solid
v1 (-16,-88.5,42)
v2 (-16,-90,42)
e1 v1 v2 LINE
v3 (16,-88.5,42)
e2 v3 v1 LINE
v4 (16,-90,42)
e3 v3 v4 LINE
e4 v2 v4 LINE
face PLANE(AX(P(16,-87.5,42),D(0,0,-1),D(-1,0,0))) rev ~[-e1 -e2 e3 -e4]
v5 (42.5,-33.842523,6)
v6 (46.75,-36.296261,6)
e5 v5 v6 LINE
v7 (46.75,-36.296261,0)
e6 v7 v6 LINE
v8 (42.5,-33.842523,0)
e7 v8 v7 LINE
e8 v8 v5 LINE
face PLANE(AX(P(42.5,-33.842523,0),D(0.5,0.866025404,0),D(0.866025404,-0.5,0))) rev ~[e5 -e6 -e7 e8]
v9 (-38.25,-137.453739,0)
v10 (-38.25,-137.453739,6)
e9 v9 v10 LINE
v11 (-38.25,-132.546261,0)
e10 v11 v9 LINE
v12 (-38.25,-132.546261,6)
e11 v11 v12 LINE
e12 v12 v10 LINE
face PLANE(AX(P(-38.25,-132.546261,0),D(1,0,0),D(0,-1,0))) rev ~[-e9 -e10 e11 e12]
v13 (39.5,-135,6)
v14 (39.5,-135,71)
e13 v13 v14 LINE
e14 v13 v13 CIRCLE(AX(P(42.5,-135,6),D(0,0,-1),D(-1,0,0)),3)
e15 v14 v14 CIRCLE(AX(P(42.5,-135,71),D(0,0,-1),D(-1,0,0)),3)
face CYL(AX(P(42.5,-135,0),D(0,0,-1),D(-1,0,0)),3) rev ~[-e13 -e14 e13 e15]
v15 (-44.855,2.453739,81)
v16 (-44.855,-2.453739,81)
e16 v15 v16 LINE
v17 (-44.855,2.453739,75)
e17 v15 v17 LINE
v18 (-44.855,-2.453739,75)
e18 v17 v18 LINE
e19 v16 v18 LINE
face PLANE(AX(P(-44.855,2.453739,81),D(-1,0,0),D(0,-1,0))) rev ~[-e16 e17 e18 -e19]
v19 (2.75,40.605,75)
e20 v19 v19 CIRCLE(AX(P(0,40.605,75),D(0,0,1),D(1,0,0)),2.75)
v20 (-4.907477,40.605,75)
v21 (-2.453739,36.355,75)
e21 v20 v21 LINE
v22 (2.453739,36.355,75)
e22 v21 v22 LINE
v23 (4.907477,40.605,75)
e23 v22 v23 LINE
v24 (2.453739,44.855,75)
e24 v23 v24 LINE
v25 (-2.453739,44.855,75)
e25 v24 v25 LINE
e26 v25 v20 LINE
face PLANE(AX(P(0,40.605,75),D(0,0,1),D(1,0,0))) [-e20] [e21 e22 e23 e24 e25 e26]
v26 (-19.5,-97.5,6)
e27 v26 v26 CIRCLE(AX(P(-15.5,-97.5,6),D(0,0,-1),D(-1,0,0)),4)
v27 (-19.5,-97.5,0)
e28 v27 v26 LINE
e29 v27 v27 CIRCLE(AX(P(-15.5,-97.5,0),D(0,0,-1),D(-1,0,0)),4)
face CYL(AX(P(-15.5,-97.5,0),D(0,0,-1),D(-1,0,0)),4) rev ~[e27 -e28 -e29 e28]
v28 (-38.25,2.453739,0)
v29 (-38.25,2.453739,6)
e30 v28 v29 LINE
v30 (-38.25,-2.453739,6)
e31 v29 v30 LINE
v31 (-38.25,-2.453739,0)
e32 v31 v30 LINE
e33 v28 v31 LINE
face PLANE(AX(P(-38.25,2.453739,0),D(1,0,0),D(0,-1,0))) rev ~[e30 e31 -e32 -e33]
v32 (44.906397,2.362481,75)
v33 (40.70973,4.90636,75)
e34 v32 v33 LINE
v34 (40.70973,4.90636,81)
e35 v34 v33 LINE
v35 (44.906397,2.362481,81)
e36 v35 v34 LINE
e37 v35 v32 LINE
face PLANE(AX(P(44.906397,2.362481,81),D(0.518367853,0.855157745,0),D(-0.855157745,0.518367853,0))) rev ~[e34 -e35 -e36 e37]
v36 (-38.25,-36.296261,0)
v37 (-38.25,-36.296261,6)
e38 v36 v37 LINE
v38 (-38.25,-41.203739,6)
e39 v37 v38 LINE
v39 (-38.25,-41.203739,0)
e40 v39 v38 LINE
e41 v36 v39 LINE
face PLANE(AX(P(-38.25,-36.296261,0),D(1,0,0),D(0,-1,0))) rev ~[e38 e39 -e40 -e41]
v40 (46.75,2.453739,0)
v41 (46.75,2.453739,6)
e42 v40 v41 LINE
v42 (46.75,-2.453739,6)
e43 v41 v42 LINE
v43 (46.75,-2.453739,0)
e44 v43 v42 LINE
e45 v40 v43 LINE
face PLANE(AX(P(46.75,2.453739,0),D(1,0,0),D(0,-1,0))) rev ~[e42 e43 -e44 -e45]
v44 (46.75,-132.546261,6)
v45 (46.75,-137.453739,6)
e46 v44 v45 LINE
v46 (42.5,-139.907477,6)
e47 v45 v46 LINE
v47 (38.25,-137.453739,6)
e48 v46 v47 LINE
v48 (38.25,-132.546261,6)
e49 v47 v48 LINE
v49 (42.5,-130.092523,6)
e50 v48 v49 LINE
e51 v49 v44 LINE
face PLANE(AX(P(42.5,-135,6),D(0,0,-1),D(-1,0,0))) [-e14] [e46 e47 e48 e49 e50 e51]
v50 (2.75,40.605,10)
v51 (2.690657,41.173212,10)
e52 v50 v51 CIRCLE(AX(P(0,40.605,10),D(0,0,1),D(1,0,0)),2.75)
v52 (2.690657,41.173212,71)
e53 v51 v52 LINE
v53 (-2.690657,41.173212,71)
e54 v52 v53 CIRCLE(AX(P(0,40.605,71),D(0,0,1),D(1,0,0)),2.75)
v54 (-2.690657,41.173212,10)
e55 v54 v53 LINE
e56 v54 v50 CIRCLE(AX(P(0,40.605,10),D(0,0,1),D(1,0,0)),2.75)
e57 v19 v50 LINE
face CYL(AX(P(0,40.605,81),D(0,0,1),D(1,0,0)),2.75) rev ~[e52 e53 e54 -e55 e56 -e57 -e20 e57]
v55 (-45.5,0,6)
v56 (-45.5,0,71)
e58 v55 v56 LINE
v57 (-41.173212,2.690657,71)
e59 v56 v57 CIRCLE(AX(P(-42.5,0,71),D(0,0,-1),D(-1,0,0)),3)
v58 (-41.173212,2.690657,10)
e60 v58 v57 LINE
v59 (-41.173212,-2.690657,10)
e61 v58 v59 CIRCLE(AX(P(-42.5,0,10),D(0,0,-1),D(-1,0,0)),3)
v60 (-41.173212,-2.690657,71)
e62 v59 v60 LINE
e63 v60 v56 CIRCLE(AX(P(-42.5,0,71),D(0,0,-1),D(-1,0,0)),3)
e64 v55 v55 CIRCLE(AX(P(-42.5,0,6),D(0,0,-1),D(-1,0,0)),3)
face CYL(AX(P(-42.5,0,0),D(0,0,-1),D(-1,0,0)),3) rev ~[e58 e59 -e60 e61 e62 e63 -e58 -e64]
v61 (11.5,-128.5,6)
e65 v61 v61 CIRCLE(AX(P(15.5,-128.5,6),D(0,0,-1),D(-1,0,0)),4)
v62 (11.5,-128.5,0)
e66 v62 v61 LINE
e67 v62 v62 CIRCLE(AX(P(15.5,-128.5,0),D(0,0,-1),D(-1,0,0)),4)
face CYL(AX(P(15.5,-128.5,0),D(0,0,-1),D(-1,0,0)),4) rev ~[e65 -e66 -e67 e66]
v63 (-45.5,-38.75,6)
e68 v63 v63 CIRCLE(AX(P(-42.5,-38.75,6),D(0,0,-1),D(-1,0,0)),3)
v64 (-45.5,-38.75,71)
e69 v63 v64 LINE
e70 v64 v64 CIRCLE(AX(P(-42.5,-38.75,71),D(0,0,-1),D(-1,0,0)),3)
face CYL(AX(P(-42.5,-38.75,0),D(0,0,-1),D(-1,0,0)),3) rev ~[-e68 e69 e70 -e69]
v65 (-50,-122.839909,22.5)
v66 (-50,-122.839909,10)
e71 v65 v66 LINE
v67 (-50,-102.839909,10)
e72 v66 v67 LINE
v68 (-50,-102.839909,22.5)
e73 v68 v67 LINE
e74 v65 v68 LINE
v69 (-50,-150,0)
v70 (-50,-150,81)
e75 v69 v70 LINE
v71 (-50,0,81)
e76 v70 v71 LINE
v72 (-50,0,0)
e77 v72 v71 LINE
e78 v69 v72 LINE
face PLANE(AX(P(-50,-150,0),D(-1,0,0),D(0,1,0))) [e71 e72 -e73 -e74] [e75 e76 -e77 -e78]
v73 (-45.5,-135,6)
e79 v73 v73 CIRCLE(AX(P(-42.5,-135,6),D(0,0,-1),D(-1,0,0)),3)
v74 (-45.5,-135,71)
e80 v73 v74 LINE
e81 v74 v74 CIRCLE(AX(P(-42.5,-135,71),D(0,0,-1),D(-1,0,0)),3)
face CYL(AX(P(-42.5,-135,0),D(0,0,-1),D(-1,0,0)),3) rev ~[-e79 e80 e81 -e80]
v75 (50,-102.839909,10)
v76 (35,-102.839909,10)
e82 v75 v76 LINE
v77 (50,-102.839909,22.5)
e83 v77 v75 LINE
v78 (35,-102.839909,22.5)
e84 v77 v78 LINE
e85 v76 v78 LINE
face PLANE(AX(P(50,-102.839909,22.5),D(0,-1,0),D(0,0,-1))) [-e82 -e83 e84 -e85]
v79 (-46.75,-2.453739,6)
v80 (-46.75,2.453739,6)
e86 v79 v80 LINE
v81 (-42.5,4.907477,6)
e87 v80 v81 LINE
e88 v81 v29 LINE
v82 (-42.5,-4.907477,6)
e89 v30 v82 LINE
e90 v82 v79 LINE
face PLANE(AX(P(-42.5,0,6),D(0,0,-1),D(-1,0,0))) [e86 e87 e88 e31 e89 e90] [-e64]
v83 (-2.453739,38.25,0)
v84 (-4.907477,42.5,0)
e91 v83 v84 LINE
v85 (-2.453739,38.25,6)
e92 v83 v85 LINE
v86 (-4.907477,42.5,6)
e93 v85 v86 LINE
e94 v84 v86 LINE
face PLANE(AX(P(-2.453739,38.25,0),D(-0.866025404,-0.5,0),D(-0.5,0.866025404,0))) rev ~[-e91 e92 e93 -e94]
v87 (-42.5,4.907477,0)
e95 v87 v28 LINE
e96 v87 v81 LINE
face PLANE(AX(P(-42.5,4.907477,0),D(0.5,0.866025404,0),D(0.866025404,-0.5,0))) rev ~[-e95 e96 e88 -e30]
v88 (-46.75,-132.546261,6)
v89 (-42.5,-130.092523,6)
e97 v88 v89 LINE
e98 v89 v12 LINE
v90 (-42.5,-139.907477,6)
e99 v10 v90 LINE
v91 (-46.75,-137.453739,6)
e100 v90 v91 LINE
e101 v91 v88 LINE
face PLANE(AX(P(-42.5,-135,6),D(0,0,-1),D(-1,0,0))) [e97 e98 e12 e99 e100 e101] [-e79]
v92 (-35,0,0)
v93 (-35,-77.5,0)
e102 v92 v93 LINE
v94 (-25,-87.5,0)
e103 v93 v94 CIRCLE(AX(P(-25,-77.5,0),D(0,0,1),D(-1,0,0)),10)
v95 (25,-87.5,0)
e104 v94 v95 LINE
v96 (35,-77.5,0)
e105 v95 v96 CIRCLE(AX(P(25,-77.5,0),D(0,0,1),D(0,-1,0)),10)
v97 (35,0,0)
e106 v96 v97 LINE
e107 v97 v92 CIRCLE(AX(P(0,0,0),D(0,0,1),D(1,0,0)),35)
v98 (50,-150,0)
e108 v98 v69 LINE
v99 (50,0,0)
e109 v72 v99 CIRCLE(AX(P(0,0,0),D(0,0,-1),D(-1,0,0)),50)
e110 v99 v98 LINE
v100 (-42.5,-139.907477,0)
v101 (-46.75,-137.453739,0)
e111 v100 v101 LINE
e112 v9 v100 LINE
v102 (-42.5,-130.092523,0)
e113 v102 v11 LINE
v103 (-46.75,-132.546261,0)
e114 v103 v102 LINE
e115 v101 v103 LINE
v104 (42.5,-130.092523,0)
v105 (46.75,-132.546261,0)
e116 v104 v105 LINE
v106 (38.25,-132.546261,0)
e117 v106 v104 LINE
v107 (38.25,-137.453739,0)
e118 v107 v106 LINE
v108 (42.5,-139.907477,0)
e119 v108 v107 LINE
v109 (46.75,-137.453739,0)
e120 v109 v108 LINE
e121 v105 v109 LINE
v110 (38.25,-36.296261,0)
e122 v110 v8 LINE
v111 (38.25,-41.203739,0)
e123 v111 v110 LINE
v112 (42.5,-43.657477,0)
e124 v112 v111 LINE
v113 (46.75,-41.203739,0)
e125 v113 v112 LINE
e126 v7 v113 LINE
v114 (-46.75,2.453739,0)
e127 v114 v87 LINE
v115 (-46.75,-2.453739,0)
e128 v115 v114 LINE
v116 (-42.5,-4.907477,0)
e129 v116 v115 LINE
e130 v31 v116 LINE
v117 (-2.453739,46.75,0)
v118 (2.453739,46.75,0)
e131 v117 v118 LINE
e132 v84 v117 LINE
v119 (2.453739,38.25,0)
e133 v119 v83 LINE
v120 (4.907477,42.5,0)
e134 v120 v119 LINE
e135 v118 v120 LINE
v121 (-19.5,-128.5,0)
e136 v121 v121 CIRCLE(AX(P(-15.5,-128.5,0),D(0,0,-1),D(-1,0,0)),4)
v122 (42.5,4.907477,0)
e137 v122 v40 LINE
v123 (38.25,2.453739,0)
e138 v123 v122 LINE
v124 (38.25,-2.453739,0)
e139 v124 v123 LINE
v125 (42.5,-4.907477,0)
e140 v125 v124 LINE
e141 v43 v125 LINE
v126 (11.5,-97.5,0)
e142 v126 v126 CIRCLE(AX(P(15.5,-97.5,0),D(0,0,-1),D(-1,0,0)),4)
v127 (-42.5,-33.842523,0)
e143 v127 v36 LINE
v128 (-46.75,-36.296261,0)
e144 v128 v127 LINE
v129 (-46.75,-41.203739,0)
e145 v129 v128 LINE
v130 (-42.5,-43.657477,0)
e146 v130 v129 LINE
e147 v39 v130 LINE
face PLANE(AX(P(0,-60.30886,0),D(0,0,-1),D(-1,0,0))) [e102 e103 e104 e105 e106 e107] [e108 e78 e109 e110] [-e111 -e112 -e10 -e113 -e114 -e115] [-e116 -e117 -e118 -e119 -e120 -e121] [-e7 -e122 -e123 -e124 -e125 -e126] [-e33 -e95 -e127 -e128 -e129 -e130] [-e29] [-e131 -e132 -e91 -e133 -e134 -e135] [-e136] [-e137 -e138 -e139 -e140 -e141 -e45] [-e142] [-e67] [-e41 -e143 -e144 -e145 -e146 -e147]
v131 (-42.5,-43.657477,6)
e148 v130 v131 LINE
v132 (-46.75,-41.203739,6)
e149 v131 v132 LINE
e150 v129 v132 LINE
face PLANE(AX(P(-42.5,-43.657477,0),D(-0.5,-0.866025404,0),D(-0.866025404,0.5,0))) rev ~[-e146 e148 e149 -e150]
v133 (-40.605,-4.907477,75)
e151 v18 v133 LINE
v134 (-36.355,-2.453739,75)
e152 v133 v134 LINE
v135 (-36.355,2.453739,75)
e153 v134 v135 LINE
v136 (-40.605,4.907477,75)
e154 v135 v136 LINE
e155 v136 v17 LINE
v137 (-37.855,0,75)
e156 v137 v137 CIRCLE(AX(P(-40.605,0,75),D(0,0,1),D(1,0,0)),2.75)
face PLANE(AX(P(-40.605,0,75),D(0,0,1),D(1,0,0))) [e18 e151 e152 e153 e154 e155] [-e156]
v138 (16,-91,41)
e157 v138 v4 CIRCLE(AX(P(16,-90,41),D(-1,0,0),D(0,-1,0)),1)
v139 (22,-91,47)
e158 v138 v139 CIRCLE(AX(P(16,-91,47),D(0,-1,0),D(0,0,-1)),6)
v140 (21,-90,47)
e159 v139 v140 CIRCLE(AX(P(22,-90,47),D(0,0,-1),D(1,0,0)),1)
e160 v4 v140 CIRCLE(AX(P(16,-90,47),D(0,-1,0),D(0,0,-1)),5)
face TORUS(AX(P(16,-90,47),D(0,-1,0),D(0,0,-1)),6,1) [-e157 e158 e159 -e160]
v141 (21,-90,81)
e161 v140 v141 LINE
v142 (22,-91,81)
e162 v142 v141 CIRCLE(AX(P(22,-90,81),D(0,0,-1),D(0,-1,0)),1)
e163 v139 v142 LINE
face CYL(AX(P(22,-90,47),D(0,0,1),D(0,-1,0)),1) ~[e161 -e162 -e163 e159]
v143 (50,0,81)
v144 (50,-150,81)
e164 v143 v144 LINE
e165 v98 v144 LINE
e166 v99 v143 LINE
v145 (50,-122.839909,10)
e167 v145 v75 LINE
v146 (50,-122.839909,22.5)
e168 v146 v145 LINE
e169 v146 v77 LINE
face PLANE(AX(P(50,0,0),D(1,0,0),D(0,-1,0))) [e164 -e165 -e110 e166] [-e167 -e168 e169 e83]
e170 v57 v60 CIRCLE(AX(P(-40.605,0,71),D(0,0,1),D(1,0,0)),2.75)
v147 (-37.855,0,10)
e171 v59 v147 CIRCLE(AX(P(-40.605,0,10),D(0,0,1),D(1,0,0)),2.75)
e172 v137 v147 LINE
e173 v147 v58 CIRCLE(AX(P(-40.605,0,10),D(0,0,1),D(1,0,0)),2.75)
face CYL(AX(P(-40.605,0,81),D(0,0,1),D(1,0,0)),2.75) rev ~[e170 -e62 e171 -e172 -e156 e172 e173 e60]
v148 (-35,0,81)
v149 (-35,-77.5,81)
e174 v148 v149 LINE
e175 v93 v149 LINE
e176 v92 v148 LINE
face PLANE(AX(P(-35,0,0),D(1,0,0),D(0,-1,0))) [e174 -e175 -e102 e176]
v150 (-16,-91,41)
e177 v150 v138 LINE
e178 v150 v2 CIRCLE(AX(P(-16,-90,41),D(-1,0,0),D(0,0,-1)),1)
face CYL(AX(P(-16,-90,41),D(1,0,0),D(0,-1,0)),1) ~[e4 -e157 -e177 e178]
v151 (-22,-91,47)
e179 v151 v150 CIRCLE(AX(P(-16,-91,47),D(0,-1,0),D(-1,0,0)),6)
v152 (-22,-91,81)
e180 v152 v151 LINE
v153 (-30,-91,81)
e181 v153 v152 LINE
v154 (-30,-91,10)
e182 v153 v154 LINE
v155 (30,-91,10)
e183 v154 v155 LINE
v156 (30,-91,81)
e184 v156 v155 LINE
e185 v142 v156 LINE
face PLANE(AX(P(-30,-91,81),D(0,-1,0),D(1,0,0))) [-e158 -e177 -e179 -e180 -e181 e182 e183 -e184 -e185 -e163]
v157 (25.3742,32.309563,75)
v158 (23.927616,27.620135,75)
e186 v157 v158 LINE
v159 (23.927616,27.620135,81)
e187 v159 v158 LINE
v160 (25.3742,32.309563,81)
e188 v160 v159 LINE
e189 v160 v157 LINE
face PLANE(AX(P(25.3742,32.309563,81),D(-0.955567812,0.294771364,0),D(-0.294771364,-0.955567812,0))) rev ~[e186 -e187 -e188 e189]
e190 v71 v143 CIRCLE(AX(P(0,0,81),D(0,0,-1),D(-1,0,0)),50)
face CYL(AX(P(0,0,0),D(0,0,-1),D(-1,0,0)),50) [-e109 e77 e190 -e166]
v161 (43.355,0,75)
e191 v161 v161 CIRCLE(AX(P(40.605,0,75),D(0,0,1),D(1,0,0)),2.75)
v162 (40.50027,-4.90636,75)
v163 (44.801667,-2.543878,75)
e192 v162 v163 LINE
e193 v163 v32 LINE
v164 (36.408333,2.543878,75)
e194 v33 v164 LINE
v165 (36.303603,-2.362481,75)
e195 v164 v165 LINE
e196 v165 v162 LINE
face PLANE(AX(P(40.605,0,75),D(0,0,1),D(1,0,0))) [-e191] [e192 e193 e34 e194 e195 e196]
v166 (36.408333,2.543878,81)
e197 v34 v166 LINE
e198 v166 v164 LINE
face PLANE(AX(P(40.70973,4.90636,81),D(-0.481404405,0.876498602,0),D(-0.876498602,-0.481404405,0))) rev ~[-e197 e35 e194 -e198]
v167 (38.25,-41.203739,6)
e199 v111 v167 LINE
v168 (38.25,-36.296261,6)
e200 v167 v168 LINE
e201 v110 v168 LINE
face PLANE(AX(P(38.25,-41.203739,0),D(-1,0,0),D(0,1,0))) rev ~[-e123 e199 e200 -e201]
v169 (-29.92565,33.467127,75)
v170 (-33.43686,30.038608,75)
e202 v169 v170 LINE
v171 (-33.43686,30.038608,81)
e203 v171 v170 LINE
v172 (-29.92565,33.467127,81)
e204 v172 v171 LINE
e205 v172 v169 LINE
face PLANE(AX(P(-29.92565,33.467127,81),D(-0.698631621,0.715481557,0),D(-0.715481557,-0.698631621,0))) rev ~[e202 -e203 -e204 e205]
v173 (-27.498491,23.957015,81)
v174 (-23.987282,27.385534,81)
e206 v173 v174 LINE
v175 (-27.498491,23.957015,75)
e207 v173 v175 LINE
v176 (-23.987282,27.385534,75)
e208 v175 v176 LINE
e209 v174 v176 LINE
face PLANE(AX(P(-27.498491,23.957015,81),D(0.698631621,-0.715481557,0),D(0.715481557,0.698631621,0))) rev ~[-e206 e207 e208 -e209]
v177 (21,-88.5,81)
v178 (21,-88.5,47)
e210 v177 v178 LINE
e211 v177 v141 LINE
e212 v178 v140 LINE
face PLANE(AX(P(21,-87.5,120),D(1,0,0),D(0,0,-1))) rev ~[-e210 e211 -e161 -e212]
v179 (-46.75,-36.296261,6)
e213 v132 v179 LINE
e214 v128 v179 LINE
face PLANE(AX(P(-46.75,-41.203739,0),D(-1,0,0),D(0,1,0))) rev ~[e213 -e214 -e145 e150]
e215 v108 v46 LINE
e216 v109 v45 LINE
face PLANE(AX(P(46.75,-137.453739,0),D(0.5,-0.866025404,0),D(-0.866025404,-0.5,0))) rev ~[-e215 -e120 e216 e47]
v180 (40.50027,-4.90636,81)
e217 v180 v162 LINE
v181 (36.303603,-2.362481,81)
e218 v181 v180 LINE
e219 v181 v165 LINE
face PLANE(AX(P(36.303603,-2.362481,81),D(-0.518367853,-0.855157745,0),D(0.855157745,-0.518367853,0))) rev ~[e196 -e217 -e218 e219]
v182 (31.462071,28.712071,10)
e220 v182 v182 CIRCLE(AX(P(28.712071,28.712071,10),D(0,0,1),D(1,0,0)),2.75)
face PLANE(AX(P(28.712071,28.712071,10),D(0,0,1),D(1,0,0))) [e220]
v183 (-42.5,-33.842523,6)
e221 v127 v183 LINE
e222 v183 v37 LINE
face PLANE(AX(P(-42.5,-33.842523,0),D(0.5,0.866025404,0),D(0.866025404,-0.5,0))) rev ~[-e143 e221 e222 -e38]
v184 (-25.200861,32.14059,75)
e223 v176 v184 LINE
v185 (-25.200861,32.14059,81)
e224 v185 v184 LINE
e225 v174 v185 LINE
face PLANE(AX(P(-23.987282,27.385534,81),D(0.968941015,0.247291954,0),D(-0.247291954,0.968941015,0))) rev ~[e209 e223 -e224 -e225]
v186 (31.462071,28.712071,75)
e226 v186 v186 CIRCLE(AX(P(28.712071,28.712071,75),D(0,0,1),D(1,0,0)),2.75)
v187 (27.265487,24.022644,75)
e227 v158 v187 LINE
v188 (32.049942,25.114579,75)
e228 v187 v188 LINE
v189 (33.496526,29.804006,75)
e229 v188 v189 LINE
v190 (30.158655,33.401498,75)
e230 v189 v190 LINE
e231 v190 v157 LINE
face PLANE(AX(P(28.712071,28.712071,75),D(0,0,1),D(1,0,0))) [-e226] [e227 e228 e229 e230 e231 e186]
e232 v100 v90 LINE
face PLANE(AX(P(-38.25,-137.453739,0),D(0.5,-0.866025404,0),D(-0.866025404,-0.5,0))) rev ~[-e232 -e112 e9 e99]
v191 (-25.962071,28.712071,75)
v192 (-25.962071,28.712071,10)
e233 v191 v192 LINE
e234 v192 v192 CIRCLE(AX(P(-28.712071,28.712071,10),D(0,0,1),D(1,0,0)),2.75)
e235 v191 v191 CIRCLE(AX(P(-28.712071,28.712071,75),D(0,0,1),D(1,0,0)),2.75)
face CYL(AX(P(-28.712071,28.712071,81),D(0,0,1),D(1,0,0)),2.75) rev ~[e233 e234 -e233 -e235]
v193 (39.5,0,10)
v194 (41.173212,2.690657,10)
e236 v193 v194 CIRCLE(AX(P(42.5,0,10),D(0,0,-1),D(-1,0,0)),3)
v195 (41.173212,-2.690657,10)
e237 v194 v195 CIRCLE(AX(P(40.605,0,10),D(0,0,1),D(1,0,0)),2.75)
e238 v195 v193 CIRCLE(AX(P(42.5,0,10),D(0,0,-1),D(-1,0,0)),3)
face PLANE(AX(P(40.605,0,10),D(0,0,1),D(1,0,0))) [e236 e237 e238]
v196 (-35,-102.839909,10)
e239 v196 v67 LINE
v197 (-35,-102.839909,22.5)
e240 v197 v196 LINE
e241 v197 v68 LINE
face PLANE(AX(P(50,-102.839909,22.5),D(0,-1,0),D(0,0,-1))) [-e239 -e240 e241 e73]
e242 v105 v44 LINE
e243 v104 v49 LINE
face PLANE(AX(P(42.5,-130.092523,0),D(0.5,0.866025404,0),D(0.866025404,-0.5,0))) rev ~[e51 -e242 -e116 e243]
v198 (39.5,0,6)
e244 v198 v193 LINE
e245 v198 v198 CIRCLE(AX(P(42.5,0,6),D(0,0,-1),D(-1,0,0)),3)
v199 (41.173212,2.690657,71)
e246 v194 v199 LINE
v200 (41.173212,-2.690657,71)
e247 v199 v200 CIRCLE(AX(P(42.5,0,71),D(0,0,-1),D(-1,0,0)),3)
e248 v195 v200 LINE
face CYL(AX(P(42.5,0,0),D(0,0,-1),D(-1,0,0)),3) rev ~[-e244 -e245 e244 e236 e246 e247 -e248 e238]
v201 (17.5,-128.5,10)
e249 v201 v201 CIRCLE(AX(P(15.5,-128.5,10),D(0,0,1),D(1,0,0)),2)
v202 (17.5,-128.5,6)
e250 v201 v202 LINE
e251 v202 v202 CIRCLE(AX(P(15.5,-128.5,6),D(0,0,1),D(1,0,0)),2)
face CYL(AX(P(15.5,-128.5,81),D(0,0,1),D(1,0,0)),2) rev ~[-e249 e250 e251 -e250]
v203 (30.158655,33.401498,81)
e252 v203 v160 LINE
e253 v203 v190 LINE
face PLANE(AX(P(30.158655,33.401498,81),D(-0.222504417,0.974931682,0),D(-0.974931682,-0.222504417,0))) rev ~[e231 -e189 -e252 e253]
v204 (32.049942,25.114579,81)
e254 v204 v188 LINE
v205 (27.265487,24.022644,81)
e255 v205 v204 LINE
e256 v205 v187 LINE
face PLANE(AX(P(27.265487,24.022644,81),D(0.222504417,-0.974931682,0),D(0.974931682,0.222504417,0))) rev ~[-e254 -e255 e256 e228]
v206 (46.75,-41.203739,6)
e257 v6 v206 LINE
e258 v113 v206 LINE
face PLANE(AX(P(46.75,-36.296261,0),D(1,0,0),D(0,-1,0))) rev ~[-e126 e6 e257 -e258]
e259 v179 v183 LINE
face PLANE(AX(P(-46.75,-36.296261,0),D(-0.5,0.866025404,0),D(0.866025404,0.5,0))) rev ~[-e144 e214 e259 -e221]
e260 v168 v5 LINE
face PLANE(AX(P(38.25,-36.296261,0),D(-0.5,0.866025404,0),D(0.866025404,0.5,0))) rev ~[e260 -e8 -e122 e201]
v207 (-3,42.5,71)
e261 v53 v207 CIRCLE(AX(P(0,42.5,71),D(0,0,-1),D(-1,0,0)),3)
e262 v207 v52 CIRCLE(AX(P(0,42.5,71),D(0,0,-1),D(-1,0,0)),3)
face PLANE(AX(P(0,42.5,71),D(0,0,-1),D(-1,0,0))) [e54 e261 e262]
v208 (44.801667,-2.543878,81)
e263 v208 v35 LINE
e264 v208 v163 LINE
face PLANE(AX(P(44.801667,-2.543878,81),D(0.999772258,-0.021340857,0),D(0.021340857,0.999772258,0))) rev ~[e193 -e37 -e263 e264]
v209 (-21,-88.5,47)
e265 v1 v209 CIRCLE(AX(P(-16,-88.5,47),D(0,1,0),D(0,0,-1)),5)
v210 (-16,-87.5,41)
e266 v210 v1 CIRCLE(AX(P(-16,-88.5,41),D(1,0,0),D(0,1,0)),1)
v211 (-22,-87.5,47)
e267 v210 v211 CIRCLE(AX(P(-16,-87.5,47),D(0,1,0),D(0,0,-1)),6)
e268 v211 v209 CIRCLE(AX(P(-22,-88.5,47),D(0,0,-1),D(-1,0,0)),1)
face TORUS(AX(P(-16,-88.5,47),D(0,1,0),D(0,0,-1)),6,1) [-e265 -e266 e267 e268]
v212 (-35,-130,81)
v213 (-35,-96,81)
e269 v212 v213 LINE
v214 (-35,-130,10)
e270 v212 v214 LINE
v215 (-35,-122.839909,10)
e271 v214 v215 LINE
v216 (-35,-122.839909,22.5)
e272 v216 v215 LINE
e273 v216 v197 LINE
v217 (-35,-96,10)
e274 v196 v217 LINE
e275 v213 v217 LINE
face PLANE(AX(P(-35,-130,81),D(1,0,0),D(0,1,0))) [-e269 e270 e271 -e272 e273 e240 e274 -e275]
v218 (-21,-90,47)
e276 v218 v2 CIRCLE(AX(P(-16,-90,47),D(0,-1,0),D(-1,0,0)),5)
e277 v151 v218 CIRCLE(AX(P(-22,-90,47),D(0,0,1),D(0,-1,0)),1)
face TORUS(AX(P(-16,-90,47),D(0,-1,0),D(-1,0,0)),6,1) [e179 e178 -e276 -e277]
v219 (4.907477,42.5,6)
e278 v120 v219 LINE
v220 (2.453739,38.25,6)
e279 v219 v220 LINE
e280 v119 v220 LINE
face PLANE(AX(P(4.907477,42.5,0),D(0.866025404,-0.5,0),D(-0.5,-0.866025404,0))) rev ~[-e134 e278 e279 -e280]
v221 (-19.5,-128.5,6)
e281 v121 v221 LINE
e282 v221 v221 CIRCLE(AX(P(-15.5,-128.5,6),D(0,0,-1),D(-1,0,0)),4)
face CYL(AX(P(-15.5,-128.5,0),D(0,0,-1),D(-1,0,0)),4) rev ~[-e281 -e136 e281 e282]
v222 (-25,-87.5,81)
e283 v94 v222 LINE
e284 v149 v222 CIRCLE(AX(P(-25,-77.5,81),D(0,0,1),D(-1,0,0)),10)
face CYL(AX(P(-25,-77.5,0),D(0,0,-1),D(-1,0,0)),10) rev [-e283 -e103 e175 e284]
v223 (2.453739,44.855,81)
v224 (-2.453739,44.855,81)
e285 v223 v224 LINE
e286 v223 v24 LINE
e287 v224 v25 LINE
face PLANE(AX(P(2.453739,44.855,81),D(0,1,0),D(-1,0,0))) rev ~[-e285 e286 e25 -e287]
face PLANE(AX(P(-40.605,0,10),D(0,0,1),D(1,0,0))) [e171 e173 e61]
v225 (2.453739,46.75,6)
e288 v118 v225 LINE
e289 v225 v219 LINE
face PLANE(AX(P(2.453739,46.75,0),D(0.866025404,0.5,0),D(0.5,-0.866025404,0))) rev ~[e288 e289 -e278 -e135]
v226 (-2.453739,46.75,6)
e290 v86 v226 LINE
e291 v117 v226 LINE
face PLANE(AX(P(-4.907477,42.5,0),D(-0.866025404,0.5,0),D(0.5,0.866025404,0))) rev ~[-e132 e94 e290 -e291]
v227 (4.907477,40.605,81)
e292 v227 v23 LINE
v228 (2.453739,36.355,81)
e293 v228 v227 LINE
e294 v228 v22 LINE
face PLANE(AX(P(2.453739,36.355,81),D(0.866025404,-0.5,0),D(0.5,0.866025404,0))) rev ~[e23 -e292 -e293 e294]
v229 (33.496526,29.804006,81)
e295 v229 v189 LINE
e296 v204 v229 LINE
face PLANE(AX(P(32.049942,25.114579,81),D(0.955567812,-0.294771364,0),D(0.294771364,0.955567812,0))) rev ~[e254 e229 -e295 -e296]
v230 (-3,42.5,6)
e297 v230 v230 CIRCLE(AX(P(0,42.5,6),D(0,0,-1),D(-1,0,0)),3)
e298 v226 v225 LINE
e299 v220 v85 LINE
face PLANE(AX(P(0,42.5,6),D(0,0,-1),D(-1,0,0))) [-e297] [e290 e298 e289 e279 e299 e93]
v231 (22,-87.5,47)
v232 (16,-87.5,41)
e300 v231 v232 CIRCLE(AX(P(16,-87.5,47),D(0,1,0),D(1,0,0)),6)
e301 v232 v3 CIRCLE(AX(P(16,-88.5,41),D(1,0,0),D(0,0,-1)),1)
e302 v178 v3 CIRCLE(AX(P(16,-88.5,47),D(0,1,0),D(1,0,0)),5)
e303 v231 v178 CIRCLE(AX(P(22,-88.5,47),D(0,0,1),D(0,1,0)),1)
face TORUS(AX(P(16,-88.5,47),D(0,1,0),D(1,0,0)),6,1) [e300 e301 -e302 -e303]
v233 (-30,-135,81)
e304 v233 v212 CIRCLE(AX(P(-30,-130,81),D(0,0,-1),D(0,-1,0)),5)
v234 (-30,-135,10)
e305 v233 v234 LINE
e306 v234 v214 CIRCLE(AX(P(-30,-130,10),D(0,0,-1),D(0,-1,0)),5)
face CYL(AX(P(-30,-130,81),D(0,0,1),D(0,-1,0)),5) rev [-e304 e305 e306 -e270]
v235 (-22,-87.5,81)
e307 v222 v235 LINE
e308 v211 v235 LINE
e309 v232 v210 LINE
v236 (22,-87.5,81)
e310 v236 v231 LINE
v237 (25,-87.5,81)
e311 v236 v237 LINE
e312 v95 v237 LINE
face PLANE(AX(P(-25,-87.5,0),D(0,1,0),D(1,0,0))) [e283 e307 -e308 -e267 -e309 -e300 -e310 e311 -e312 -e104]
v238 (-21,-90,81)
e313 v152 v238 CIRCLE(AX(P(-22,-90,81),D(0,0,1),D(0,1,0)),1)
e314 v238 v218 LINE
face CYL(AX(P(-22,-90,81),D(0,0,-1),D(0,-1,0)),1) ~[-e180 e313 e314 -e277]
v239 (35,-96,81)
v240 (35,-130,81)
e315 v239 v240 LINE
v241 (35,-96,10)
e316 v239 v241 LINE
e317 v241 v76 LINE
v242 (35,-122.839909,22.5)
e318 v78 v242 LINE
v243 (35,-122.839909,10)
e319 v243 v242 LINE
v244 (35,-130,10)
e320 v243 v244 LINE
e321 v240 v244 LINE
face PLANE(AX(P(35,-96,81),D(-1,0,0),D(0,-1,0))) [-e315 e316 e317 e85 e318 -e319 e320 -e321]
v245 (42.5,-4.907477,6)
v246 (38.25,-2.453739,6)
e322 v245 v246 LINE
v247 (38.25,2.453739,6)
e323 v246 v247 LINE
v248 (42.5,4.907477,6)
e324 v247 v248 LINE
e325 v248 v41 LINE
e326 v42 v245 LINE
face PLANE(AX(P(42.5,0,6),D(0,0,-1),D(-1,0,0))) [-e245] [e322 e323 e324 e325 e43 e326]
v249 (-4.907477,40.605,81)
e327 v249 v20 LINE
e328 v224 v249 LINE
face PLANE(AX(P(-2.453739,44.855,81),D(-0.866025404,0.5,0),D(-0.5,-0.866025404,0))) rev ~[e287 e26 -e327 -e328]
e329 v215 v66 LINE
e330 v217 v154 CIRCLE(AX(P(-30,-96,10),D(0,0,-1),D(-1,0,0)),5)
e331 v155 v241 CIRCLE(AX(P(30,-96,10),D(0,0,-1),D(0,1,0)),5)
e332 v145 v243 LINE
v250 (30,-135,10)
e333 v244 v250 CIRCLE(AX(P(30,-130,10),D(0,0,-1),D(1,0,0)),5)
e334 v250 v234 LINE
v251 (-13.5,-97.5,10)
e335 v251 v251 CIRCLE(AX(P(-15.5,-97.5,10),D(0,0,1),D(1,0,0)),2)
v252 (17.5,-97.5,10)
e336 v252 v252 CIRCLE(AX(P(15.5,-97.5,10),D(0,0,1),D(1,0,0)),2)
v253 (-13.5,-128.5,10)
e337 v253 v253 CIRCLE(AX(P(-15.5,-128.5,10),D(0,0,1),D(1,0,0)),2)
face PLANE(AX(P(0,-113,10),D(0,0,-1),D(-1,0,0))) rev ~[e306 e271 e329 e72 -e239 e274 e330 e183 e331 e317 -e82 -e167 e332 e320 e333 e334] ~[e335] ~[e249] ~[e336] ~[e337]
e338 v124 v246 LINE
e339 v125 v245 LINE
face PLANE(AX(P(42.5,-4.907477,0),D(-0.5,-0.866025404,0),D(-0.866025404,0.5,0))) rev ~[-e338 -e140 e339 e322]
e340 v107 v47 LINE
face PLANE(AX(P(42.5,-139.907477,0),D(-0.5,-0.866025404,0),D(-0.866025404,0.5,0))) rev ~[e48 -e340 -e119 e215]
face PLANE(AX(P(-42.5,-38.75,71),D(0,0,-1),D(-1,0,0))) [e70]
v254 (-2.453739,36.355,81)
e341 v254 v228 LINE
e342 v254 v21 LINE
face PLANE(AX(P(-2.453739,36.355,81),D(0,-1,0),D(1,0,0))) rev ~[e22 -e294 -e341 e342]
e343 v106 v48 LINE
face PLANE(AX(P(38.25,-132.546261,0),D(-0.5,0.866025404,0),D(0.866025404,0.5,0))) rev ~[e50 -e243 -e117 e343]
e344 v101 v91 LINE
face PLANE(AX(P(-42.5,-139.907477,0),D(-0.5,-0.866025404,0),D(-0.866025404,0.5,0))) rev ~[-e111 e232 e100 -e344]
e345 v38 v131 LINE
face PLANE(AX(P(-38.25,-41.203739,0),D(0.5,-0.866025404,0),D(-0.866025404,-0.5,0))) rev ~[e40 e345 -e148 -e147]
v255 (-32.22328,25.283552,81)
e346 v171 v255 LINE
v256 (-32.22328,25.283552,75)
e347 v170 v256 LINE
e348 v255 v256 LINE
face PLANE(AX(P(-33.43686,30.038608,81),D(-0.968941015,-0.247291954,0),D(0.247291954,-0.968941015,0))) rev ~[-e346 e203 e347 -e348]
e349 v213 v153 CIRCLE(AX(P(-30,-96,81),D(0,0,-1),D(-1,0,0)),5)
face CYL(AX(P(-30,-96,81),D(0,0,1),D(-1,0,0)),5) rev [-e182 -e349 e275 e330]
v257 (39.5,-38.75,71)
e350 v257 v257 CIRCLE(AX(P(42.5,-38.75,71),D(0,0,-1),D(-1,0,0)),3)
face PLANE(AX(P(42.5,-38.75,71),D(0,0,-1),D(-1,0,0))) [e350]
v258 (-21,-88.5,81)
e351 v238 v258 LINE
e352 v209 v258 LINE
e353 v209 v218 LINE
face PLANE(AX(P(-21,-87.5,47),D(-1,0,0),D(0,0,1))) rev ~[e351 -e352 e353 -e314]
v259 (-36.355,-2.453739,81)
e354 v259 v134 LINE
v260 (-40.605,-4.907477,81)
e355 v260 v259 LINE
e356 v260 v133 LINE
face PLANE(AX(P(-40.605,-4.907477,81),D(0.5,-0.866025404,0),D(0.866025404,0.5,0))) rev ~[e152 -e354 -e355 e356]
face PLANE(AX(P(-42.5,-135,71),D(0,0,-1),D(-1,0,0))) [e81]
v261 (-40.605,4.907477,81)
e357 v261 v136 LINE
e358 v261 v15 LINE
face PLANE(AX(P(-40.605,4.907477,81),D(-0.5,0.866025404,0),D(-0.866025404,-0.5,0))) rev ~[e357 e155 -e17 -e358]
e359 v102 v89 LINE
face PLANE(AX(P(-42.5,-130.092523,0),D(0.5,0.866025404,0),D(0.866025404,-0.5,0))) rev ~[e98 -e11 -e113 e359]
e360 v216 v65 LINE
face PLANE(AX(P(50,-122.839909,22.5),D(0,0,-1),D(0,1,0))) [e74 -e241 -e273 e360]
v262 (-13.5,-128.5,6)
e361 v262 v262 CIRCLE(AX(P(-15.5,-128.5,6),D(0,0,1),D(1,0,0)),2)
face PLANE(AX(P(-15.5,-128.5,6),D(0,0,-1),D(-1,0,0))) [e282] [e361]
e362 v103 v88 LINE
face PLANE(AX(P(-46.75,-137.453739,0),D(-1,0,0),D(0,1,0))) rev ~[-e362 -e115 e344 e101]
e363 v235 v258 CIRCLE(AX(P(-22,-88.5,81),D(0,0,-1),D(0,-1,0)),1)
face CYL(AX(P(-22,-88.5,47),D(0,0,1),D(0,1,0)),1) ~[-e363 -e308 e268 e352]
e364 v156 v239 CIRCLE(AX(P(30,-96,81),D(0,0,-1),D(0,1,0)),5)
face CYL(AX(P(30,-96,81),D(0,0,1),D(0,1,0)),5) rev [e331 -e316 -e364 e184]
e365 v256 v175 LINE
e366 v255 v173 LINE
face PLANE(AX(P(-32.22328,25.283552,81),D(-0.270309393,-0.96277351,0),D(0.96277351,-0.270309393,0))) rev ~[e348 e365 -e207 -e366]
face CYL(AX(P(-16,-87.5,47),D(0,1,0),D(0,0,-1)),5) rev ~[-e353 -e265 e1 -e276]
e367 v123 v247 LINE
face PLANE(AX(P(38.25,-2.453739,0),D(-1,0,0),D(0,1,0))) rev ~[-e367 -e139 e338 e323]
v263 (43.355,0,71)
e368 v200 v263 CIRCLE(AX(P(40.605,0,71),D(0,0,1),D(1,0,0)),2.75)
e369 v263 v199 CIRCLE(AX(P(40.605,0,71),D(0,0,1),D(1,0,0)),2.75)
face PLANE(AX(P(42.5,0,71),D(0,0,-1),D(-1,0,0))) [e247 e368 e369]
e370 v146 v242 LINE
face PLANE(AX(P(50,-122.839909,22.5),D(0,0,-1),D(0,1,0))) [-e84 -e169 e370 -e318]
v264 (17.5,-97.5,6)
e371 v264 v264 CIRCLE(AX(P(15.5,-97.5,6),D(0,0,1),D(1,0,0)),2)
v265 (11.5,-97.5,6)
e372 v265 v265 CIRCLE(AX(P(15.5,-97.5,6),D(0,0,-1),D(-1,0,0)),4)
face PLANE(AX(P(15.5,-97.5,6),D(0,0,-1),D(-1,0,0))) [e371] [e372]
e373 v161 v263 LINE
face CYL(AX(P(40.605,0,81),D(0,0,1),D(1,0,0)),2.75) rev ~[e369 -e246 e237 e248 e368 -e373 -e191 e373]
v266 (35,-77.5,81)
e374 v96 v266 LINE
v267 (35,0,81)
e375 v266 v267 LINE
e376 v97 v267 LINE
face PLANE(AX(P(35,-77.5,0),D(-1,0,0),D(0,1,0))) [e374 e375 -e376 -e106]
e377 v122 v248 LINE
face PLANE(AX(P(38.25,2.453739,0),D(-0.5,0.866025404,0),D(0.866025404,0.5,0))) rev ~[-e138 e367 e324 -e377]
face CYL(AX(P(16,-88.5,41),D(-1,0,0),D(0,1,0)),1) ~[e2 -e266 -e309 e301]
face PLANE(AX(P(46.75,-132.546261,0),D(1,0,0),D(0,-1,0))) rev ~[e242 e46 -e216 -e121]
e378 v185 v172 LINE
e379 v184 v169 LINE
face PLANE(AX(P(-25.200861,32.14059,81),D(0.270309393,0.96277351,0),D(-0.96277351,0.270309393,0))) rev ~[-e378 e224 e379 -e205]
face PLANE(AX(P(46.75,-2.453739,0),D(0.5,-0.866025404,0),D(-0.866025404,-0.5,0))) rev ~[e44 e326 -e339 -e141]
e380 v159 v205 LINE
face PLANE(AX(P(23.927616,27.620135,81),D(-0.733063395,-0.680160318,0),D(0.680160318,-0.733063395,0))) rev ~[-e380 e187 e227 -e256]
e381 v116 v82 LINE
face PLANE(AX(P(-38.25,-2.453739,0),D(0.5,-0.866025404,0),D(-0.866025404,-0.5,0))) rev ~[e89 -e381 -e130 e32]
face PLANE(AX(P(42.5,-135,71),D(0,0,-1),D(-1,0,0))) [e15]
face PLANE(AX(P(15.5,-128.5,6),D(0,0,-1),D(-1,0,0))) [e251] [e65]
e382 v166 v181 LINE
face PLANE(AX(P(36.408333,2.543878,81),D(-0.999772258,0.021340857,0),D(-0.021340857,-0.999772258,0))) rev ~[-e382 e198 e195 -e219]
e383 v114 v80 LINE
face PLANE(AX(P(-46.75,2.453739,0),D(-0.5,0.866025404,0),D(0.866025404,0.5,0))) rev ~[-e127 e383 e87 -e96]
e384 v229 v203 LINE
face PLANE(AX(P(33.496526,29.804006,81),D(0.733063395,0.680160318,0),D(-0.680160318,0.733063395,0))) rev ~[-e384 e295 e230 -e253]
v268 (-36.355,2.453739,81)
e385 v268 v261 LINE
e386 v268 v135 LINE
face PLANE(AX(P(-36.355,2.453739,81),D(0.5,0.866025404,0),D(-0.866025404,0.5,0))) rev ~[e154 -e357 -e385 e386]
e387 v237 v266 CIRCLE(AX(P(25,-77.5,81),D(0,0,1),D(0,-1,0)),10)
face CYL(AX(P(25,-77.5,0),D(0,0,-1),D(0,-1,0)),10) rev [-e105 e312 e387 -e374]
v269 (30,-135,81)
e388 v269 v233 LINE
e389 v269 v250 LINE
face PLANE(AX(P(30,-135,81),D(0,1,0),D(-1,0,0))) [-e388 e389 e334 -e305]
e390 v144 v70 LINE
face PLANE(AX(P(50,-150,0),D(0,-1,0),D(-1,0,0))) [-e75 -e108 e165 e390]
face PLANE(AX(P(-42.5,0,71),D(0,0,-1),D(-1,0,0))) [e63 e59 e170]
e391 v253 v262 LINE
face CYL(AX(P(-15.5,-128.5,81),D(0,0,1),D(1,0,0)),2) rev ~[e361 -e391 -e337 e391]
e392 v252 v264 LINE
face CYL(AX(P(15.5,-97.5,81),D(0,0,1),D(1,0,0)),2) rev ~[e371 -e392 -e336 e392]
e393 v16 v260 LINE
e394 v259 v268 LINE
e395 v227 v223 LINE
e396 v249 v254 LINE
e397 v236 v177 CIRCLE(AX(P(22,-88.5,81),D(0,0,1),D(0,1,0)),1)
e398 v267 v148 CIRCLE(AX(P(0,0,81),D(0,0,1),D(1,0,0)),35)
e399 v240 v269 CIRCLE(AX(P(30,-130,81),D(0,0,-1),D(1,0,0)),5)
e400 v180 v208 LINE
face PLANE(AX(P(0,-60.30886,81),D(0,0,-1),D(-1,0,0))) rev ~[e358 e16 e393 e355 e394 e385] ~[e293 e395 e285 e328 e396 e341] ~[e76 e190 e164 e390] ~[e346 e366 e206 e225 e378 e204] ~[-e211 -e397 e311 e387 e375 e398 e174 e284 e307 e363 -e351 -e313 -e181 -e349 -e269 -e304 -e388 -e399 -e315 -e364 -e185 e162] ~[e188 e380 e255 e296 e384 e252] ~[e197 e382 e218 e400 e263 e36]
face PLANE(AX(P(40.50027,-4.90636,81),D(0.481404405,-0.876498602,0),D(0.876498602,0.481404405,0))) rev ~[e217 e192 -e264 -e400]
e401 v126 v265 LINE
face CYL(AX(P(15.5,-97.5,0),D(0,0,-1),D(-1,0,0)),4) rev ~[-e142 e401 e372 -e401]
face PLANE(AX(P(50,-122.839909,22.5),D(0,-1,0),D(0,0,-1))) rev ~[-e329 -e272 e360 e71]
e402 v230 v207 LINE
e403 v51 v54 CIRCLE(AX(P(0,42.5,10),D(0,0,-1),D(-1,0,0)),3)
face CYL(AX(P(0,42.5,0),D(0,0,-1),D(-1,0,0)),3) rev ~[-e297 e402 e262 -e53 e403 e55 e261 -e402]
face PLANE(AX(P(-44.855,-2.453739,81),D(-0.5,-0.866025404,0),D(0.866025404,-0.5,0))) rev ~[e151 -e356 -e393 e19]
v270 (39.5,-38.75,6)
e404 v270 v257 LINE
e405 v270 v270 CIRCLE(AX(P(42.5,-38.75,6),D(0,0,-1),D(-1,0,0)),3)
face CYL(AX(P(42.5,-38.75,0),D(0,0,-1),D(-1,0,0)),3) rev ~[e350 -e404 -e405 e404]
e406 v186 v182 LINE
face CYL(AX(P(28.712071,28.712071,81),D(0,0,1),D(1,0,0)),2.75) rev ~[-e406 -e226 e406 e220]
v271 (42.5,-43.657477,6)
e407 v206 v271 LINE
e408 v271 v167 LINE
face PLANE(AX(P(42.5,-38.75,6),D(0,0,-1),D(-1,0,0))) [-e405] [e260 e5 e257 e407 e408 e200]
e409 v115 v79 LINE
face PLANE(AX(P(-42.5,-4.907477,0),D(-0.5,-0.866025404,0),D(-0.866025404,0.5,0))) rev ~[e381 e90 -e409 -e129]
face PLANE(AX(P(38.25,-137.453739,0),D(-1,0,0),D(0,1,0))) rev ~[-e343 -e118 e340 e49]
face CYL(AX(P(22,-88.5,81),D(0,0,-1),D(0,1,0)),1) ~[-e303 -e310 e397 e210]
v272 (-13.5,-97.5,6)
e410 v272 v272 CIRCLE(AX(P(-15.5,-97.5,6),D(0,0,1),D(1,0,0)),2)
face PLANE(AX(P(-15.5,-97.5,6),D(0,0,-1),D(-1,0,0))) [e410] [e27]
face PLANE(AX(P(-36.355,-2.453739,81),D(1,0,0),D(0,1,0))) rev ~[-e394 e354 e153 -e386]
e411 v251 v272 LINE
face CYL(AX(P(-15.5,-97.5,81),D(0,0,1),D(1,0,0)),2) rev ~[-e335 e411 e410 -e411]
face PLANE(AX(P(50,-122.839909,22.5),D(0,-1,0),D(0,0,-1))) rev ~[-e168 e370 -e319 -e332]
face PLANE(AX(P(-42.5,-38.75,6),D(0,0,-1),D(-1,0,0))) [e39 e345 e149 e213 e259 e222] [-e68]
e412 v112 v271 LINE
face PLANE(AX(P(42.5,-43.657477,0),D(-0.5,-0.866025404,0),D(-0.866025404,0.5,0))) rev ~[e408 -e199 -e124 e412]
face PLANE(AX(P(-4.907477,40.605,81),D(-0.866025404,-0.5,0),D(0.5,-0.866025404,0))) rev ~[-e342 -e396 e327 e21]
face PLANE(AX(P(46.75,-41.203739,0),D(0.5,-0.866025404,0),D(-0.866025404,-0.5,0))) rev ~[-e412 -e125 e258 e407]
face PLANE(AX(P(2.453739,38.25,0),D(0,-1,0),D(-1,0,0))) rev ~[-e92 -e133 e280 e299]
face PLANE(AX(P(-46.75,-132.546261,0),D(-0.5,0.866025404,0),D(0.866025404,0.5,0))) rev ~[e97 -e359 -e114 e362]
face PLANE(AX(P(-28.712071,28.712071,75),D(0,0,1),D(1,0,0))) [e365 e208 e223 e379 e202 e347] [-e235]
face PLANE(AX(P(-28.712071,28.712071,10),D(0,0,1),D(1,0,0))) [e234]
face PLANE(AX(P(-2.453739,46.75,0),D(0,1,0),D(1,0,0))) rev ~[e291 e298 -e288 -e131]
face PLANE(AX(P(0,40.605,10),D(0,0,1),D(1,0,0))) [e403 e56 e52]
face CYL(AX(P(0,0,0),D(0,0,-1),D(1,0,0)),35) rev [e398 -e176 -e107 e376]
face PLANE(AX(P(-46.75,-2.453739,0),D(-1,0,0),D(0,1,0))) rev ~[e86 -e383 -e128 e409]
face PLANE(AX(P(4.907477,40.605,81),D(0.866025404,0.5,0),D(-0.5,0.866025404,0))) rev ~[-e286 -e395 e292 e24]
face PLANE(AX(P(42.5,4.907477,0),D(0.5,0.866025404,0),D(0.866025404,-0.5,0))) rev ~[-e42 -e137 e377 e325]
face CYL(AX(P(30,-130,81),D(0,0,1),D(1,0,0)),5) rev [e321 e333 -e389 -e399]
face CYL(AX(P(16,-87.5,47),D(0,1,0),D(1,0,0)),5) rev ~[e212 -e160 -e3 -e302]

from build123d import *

# Parameters (mm, degrees)
SALIENTE_EXTRUIR1_DEPTH = 81
CORTAR_EXTRUIR1_DEPTH   = 6
CROQUIS3_R              = 2
CORTAR_EXTRUIR2_DEPTH   = 81
CROQUIS4_R              = 4
CORTAR_EXTRUIR4_DEPTH   = 6
CORTAR_EXTRUIR5_DEPTH   = 71
CROQUIS7_R              = 2.75
CORTAR_EXTRUIR6_DEPTH   = 71
CORTAR_EXTRUIR7_DEPTH   = 6
CORTAR_EXTRUIR8_DEPTH   = 6
REDONDEO2_R             = 1
CROQUIS10_R             = 3
CORTAR_EXTRUIR9_DEPTH   = 71
CROQUIS15_W             = 12.5
CROQUIS15_H             = 20
CORTAR_EXTRUIR10_DEPTH  = 100


with BuildPart() as part:
    # Croquis1 → Saliente-Extruir1 (new body)
    with BuildSketch(Plane.XY):
        with BuildLine():
            Line((50, 0), (50, -150))
            Line((50, -150), (0, -150))
            Line((0, -150), (-50, -150))
            Line((-50, -150), (-50, 0))
            ThreePointArc((-50, 0), (0, 50), (50, 0))
        make_face()
        with BuildLine():
            Line((-35, 0), (-35, -77.5))
            ThreePointArc((-35, -77.5), (-32.071067812, -84.571067812), (-25, -87.5))
            Line((-25, -87.5), (25, -87.5))
            ThreePointArc((25, -87.5), (32.071067812, -84.571067812), (35, -77.5))
            Line((35, -77.5), (35, 0))
            ThreePointArc((35, 0), (0, 35), (-35, 0))
        make_face(mode=Mode.SUBTRACT)
    extrude(amount=SALIENTE_EXTRUIR1_DEPTH)

    # Croquis2 → Cortar-Extruir1 (cut)
    with BuildSketch(Plane(origin=(0, 0, 0), x_dir=(-1, 0, 0), z_dir=(0, 0, -1))):
        Polygon((4.907477288, 42.5), (2.453738644, 46.75), (-2.453738644, 46.75), (-4.907477288, 42.5), (-2.453738644, 38.25), (2.453738644, 38.25), align=None)
        Polygon((-42.5, 4.907477288), (-46.75, 2.453738644), (-46.75, -2.453738644), (-42.5, -4.907477288), (-38.25, -2.453738644), (-38.25, 2.453738644), align=None)
        Polygon((42.5, 4.907477288), (38.25, 2.453738644), (38.25, -2.453738644), (42.5, -4.907477288), (46.75, -2.453738644), (46.75, 2.453738644), align=None)
        Polygon((-42.5, -33.842522712), (-46.75, -36.296261356), (-46.75, -41.203738644), (-42.5, -43.657477288), (-38.25, -41.203738644), (-38.25, -36.296261356), align=None)
        Polygon((42.5, -33.842522712), (38.25, -36.296261356), (38.25, -41.203738644), (42.5, -43.657477288), (46.75, -41.203738644), (46.75, -36.296261356), align=None)
        Polygon((-42.5, -130.092522712), (-46.75, -132.546261356), (-46.75, -137.453738644), (-42.5, -139.907477288), (-38.25, -137.453738644), (-38.25, -132.546261356), align=None)
        Polygon((42.5, -139.907477288), (46.75, -137.453738644), (46.75, -132.546261356), (42.5, -130.092522712), (38.25, -132.546261356), (38.25, -137.453738644), align=None)
    extrude(amount=-CORTAR_EXTRUIR1_DEPTH, mode=Mode.SUBTRACT)

    # Croquis3 → Cortar-Extruir2 (cut)
    with BuildSketch(Plane.XY.offset(81)):
        with Locations((-15.5, -97.5)):
            Circle(CROQUIS3_R)
        with Locations((15.5, -97.5)):
            Circle(CROQUIS3_R)
        with Locations((15.5, -128.5)):
            Circle(CROQUIS3_R)
        with Locations((-15.5, -128.5)):
            Circle(CROQUIS3_R)
    extrude(amount=-CORTAR_EXTRUIR2_DEPTH, mode=Mode.SUBTRACT)

    # Croquis4 → Cortar-Extruir4 (cut)
    with BuildSketch(Plane(origin=(0, 0, 0), x_dir=(-1, 0, 0), z_dir=(0, 0, -1))):
        with Locations((-15.5, -97.5)):
            Circle(CROQUIS4_R)
        with Locations((15.5, -97.5)):
            Circle(CROQUIS4_R)
        with Locations((-15.5, -128.5)):
            Circle(CROQUIS4_R)
        with Locations((15.5, -128.5)):
            Circle(CROQUIS4_R)
    extrude(amount=-CORTAR_EXTRUIR4_DEPTH, mode=Mode.SUBTRACT)

    # Croquis6 → Cortar-Extruir5 (cut)
    with BuildSketch(Plane.XY.offset(81)):
        with BuildLine():
            Line((-30, -91), (30, -91))
            ThreePointArc((30, -91), (33.535533906, -92.464466094), (35, -96))
            Line((35, -96), (35, -130))
            ThreePointArc((35, -130), (33.535533906, -133.535533906), (30, -135))
            Line((30, -135), (-30, -135))
            ThreePointArc((-30, -135), (-33.535533906, -133.535533906), (-35, -130))
            Line((-35, -130), (-35, -96))
            ThreePointArc((-35, -96), (-33.535533906, -92.464466094), (-30, -91))
        make_face()
    extrude(amount=-CORTAR_EXTRUIR5_DEPTH, mode=Mode.SUBTRACT)

    # Croquis7 → Cortar-Extruir6 (cut)
    with BuildSketch(Plane.XY.offset(81)):
        with Locations((0, 40.605)):
            Circle(CROQUIS7_R)
        with Locations((28.71207085, 28.71207085)):
            Circle(CROQUIS7_R)
        with Locations((40.605, 0)):
            Circle(CROQUIS7_R)
        with Locations((28.71207085, -28.71207085)):
            Circle(CROQUIS7_R)
        with Locations((0, -40.605)):
            Circle(CROQUIS7_R)
        with Locations((-28.71207085, -28.71207085)):
            Circle(CROQUIS7_R)
        with Locations((-40.605, 0)):
            Circle(CROQUIS7_R)
        with Locations((-28.71207085, 28.71207085)):
            Circle(CROQUIS7_R)
    extrude(amount=-CORTAR_EXTRUIR6_DEPTH, mode=Mode.SUBTRACT)

    # Croquis8 → Cortar-Extruir7 (cut)
    with BuildSketch(Plane.XY.offset(81)):
        Polygon((4.907477288, 40.605), (2.453738644, 44.855), (-2.453738644, 44.855), (-4.907477288, 40.605), (-2.453738644, 36.355), (2.453738644, 36.355), align=None)
        Polygon((-23.987281715, 27.385533641), (-25.200861361, 32.140589664), (-29.925650495, 33.467126873), (-33.436859985, 30.038608059), (-32.223280339, 25.283552036), (-27.498491205, 23.957014828), align=None)
        Polygon((32.049942164, 25.114578887), (33.496525937, 29.804006221), (30.158654623, 33.401498184), (25.374199536, 32.309562813), (23.927615763, 27.62013548), (27.265487077, 24.022643516), align=None)
        Polygon((-40.605, -4.907477288), (-36.355, -2.453738644), (-36.355, 2.453738644), (-40.605, 4.907477288), (-44.855, 2.453738644), (-44.855, -2.453738644), align=None)
        Polygon((44.801667212, -2.543878465), (44.906396981, 2.362481184), (40.709729769, 4.906359649), (36.408332788, 2.543878465), (36.303603019, -2.362481184), (40.500270231, -4.906359649), align=None)
    extrude(amount=-CORTAR_EXTRUIR7_DEPTH, mode=Mode.SUBTRACT)

    # Croquis9 → Cortar-Extruir8 (cut)
    with BuildSketch(Plane(origin=(0, -87.5, 0), x_dir=(1, 0, 0), z_dir=(0, 1, 0))):
        with BuildLine():
            Line((-21, -120), (21, -120))
            Line((21, -120), (21, -47))
            ThreePointArc((21, -47), (19.535533906, -43.464466094), (16, -42))
            Line((16, -42), (-16, -42))
            ThreePointArc((-16, -42), (-19.535533906, -43.464466094), (-21, -47))
            Line((-21, -47), (-21, -120))
        make_face()
    extrude(amount=-CORTAR_EXTRUIR8_DEPTH, mode=Mode.SUBTRACT)

    # Redondeo2
    redondeo2_edges = [part.edges().sort_by_distance(p)[0] for p in [
        (21, -91, 64),
        (19.535533906, -91, 43.464466094),
        (0, -91, 42),
        (-19.535533906, -91, 43.464466094),
        (-21, -91, 64),
        (-21, -87.5, 64),
        (21, -87.5, 64),
        (19.535533906, -87.5, 43.464466094),
        (0, -87.5, 42),
        (-19.535533906, -87.5, 43.464466094),
    ]]
    fillet(redondeo2_edges, radius=REDONDEO2_R)

    # Croquis10 → Cortar-Extruir9 (cut)
    with BuildSketch(Plane(origin=(0, 0, 0), x_dir=(-1, 0, 0), z_dir=(0, 0, -1))):
        with Locations((0, 42.5)):
            Circle(CROQUIS10_R)
        with Locations((-42.5, 0)):
            Circle(CROQUIS10_R)
        with Locations((42.5, 0)):
            Circle(CROQUIS10_R)
        with Locations((42.5, -38.75)):
            Circle(CROQUIS10_R)
        with Locations((-42.5, -38.75)):
            Circle(CROQUIS10_R)
        with Locations((-42.5, -135)):
            Circle(CROQUIS10_R)
        with Locations((42.5, -135)):
            Circle(CROQUIS10_R)
    extrude(amount=-CORTAR_EXTRUIR9_DEPTH, mode=Mode.SUBTRACT)

    # Croquis15 → Cortar-Extruir10 (cut)
    with BuildSketch(Plane(origin=(50, 0, 0), x_dir=(0, 0, -1), z_dir=(1, 0, 0))):
        with Locations((-16.25, -112.839909006)):
            Rectangle(CROQUIS15_W, CROQUIS15_H)
    extrude(amount=-CORTAR_EXTRUIR10_DEPTH, mode=Mode.SUBTRACT)


solid = part.part
